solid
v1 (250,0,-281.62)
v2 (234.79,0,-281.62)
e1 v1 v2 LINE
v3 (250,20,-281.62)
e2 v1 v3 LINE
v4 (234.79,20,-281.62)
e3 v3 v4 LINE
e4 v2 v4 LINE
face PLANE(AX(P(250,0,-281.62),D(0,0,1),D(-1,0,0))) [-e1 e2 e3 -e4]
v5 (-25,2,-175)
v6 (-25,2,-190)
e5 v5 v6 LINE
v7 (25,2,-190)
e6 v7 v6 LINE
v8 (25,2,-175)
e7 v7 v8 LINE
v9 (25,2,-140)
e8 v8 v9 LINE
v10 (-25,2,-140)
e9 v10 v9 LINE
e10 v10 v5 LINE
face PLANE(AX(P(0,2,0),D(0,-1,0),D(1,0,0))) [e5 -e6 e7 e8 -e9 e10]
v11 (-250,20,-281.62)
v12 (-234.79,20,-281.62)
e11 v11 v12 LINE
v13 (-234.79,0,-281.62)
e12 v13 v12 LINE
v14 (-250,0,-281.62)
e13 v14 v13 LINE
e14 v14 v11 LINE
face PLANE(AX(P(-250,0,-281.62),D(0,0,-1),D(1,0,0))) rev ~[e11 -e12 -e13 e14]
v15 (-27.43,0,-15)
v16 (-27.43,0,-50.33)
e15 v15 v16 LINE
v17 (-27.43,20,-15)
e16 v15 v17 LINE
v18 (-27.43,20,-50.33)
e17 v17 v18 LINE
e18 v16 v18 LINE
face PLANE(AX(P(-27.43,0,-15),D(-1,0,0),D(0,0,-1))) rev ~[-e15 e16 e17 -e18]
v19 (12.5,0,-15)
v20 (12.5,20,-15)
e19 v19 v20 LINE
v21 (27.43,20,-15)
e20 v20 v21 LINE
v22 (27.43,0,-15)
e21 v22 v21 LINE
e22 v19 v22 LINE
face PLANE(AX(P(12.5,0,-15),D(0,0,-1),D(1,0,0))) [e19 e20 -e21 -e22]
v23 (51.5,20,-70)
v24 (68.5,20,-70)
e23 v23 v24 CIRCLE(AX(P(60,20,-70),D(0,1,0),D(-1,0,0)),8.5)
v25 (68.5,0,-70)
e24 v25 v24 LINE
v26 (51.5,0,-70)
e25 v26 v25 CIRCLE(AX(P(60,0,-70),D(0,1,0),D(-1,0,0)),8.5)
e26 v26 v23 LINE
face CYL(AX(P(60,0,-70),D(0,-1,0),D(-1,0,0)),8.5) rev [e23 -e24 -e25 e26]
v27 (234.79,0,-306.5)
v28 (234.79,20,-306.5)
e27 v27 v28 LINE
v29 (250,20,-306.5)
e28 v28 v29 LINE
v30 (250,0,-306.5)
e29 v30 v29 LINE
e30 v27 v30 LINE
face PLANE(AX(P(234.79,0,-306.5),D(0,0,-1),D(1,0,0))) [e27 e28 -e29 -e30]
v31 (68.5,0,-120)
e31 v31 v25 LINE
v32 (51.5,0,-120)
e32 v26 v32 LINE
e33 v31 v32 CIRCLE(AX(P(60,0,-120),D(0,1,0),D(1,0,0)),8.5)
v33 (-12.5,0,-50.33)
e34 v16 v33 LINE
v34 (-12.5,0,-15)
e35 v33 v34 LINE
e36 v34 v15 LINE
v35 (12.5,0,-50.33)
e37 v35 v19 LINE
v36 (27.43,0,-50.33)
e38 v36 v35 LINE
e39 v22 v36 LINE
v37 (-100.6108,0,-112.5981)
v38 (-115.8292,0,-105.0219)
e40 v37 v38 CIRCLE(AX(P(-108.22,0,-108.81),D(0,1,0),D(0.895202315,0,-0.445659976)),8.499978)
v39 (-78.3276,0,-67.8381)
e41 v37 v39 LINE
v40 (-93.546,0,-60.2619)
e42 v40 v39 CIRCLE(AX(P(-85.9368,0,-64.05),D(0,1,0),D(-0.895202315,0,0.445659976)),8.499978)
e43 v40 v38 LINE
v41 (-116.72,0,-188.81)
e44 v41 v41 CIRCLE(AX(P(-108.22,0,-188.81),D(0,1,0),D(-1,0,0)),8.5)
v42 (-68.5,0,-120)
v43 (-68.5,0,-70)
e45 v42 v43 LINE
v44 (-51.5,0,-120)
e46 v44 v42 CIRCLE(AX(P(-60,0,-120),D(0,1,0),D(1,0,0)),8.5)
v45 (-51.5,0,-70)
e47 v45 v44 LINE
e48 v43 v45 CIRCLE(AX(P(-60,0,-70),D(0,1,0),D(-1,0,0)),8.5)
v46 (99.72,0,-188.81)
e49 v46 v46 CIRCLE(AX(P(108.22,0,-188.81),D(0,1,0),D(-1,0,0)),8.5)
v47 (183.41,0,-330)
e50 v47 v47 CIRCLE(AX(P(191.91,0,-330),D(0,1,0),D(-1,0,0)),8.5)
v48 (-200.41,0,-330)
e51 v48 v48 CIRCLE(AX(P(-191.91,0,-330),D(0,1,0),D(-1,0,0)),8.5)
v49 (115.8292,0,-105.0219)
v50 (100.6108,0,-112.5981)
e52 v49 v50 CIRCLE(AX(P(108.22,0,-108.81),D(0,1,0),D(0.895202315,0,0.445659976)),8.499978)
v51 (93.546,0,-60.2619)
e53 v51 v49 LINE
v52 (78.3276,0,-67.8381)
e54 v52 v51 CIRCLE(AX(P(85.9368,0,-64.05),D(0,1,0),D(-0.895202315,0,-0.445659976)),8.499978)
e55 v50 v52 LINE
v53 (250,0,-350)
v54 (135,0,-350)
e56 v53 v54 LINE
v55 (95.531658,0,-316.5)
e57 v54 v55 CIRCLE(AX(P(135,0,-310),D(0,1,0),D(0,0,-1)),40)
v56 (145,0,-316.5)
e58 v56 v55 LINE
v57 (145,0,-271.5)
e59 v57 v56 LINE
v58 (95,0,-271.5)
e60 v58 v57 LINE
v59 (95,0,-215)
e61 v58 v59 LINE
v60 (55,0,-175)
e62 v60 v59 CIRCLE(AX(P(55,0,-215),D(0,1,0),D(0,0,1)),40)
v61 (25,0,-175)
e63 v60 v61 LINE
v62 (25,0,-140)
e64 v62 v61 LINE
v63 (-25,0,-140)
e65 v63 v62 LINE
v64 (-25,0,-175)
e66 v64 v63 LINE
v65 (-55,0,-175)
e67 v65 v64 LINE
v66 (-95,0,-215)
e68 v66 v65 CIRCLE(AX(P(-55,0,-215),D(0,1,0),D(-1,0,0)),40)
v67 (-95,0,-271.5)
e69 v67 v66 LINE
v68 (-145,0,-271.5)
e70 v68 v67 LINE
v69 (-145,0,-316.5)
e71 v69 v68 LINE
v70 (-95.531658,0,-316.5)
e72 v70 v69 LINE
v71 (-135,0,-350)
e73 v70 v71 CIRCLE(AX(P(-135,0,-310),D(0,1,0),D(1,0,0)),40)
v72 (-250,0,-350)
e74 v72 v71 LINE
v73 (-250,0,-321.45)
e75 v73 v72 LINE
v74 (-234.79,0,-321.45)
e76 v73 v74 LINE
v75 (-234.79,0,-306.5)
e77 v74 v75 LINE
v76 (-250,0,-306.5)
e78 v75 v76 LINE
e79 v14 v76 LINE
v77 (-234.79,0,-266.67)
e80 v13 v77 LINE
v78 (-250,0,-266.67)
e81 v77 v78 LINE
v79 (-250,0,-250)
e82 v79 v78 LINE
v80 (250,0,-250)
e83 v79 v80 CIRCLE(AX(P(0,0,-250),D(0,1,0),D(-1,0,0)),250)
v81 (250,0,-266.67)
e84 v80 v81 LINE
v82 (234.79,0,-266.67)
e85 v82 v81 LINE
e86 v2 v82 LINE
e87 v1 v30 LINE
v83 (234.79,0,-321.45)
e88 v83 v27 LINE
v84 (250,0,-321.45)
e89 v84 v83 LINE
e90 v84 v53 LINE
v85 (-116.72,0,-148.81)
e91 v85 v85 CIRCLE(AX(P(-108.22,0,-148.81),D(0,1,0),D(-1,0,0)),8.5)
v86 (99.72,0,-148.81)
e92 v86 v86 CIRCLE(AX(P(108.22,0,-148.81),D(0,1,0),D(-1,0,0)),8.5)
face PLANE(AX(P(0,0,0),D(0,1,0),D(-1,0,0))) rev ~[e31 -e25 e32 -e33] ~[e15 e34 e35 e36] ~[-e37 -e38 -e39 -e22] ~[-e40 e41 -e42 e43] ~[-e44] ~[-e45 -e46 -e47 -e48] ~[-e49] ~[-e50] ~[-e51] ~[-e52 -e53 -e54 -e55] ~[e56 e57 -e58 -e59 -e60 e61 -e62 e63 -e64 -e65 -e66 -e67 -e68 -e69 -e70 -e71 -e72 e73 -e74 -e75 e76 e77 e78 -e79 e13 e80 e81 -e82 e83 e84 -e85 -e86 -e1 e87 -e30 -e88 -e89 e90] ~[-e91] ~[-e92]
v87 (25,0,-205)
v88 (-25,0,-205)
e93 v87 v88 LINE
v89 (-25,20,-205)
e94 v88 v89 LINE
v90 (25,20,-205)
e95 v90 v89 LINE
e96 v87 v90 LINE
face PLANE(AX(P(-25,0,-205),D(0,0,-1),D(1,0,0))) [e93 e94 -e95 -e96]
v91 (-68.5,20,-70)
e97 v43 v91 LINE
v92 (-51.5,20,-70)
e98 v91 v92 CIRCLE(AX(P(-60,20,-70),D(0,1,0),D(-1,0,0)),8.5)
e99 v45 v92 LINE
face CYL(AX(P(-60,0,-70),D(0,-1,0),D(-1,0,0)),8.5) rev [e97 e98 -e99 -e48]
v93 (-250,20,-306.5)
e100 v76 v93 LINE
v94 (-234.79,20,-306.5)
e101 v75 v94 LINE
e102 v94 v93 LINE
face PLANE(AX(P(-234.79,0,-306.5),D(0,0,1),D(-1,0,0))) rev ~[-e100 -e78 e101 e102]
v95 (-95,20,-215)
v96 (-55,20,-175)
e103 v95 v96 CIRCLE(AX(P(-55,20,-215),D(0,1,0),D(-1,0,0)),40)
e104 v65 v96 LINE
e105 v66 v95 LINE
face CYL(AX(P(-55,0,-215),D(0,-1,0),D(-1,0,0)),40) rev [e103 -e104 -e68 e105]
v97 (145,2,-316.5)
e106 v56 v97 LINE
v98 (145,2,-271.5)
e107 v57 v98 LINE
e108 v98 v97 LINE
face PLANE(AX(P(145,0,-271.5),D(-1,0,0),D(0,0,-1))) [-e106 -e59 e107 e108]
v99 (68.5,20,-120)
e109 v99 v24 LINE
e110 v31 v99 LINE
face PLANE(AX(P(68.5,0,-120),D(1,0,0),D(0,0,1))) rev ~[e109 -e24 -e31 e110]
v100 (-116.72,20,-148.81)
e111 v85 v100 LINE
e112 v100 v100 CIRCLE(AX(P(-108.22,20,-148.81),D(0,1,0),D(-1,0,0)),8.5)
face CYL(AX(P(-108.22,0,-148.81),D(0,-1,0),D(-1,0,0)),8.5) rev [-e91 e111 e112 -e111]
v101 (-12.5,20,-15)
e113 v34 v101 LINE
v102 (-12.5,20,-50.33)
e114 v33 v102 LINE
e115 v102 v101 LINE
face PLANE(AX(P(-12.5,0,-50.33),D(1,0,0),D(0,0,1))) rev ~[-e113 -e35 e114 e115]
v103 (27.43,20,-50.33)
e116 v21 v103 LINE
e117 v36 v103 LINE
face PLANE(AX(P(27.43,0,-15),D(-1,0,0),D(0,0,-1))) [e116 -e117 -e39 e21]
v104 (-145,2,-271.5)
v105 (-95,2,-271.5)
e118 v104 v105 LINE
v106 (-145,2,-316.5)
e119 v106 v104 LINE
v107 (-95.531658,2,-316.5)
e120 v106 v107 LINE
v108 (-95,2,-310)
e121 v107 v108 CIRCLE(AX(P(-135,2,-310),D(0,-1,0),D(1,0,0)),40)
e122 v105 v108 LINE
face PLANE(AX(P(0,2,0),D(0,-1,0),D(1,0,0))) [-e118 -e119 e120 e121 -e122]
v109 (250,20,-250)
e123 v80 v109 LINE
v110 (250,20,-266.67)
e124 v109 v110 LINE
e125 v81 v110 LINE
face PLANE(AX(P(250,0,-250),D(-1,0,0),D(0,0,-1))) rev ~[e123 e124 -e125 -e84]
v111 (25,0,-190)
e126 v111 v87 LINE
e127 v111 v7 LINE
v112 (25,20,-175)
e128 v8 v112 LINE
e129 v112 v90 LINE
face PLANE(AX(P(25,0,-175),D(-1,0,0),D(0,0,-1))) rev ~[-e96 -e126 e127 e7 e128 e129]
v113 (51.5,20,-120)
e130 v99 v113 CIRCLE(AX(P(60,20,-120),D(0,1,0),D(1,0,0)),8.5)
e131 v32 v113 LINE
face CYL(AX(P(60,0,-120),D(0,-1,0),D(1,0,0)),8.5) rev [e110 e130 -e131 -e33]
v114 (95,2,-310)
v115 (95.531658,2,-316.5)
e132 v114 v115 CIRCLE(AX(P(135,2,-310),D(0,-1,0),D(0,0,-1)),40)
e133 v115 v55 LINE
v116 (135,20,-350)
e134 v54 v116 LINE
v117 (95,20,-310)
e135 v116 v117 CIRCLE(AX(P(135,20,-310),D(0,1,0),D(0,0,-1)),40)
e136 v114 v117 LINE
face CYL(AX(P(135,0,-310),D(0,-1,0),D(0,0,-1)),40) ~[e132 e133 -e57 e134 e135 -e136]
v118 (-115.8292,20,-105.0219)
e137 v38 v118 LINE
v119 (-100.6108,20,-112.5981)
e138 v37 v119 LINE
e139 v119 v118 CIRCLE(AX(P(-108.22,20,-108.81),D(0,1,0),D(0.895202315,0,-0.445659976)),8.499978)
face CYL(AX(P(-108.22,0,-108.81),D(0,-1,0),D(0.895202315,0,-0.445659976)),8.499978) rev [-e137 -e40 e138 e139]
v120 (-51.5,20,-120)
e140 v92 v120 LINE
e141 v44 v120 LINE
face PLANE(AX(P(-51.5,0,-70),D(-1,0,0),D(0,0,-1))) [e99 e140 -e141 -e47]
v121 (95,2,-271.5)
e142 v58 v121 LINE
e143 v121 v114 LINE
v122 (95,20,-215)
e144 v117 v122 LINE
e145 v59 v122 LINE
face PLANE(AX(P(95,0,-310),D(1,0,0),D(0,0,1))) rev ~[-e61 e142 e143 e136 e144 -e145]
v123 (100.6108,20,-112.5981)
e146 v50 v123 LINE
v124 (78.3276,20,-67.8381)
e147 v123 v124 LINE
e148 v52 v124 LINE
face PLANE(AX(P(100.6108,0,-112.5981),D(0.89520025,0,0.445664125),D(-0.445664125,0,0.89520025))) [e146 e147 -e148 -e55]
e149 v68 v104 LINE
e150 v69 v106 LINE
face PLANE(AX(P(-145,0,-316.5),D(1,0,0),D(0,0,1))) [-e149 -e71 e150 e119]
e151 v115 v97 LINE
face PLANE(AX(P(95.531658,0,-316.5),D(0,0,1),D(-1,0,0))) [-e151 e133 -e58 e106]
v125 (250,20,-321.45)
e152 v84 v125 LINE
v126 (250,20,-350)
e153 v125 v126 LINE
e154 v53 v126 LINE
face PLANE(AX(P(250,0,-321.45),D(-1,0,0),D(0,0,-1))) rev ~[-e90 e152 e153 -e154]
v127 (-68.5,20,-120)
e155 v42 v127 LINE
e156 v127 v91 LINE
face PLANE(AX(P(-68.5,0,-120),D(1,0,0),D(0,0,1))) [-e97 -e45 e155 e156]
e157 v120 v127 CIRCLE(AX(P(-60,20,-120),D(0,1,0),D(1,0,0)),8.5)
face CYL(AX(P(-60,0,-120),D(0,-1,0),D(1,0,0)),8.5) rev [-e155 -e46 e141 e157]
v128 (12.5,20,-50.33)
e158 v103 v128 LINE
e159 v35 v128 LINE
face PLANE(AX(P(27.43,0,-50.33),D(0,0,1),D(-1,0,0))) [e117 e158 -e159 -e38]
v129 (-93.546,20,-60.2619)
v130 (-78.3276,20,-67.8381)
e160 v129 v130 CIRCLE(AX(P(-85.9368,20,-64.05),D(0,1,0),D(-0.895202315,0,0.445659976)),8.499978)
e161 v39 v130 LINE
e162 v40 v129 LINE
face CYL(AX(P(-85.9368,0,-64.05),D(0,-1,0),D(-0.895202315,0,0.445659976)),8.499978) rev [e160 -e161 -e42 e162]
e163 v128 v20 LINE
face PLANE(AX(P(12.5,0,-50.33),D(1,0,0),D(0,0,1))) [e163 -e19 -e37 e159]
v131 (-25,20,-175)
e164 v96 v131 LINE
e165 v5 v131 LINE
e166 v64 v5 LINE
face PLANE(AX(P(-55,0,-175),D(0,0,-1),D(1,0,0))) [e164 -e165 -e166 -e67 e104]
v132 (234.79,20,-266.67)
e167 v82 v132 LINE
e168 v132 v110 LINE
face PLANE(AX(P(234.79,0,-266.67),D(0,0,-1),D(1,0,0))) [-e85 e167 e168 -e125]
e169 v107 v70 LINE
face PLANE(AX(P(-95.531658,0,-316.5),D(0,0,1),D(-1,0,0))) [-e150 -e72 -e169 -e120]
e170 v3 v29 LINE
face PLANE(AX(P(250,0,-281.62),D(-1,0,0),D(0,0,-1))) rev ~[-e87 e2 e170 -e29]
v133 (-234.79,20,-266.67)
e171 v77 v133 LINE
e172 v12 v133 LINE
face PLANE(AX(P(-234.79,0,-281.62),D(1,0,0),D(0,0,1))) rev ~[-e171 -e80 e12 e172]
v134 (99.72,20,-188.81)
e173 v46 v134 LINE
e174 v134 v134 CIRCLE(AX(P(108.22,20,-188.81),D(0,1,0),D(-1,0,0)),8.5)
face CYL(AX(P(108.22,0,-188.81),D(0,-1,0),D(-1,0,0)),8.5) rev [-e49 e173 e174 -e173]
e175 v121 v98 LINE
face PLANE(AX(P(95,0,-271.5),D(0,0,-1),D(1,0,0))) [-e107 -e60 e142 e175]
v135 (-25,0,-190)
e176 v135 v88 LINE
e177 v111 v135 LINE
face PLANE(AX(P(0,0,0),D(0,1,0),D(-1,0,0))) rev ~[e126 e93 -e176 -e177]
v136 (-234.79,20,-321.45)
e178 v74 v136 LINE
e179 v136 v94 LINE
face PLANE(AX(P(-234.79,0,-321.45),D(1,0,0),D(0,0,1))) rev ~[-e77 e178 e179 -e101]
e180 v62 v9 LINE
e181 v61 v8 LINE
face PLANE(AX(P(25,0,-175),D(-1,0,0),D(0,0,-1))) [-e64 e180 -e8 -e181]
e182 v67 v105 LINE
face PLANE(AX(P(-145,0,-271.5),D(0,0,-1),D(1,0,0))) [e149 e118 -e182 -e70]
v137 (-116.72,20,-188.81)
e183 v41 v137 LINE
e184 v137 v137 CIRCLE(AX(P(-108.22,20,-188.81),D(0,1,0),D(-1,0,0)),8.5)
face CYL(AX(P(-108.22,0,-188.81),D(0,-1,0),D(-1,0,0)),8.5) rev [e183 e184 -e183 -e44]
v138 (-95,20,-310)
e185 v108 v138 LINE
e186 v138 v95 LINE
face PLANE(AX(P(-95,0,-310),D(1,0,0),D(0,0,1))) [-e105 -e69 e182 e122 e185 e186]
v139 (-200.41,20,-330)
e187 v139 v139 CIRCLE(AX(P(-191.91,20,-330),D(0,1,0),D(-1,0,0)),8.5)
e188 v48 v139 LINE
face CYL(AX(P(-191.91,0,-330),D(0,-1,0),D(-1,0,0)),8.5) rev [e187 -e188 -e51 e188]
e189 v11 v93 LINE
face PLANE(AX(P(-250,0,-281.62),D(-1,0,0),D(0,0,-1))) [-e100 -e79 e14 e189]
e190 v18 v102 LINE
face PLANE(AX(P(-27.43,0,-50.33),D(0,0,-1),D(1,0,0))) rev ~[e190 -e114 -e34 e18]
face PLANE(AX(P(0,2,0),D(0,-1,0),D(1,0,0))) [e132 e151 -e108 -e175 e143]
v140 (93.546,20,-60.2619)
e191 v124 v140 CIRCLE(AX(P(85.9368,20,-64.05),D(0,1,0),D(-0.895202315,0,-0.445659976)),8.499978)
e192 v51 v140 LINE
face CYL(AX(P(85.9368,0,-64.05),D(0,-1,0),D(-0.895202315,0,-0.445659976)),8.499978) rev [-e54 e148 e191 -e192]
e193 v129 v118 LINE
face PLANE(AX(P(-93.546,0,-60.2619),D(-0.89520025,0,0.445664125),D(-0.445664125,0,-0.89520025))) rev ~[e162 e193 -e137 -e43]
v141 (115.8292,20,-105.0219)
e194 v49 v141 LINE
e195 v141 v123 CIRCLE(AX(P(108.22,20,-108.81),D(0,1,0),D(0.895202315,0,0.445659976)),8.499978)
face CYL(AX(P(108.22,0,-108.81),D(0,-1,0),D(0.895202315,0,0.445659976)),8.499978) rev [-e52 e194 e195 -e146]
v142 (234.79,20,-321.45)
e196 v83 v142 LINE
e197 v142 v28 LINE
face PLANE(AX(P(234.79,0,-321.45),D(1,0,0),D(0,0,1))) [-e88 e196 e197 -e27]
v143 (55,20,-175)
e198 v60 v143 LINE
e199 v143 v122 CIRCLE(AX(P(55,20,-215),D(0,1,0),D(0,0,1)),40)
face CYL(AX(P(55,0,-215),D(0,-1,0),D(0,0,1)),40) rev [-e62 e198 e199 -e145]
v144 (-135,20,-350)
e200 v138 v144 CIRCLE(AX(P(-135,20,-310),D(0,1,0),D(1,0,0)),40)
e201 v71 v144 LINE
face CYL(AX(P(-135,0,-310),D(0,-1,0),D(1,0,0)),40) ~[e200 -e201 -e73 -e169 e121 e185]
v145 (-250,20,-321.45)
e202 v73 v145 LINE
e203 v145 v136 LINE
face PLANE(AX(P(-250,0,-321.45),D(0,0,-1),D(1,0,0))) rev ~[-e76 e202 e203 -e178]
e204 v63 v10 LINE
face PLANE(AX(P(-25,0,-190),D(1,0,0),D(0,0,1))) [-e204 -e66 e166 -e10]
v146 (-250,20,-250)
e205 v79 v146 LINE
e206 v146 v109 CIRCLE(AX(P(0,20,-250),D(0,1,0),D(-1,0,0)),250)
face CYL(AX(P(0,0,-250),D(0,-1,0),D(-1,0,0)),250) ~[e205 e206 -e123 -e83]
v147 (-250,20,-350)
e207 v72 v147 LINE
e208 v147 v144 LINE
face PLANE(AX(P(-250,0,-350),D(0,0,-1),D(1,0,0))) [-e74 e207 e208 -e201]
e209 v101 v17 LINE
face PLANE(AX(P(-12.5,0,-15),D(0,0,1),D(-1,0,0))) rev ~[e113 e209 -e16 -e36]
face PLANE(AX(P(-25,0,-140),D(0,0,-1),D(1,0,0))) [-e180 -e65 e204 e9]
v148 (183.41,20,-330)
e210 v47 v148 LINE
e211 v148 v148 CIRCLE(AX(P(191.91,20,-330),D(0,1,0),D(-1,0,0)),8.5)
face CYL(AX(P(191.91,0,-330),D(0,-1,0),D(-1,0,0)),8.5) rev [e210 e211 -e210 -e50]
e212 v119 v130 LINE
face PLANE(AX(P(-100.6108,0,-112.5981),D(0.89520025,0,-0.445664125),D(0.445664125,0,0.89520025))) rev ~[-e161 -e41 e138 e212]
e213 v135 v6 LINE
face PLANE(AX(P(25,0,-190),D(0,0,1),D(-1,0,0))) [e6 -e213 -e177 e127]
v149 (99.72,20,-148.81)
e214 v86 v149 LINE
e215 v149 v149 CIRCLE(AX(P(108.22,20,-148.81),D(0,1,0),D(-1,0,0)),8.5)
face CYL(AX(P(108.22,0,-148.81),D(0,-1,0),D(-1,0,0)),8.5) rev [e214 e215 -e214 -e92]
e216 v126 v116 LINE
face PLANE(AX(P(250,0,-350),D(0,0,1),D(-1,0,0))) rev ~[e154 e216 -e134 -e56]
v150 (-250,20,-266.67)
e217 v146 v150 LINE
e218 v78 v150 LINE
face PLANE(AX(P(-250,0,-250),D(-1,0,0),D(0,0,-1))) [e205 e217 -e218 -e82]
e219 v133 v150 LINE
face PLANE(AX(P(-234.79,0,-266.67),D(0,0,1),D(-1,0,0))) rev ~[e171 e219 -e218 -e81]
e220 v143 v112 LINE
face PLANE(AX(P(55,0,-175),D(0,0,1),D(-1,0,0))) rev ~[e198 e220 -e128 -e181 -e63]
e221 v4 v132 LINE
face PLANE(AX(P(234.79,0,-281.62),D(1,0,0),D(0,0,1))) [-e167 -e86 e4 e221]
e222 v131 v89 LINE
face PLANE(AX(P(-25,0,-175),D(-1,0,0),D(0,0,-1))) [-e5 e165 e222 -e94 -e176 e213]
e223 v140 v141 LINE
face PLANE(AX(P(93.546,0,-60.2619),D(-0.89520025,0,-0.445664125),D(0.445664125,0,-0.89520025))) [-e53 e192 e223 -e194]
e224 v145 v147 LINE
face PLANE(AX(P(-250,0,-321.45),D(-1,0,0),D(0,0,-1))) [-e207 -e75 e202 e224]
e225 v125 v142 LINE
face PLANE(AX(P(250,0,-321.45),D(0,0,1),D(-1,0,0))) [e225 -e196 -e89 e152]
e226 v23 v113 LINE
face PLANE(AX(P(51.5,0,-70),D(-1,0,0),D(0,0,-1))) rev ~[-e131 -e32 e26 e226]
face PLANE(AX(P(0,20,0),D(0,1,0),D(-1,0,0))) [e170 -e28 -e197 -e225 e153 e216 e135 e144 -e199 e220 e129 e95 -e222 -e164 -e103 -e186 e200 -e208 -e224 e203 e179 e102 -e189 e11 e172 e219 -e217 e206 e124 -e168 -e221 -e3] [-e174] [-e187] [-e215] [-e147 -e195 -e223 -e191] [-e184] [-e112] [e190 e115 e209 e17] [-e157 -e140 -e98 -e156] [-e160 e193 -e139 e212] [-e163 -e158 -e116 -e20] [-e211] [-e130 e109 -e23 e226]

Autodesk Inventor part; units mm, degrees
ref_plane "YZ Plane" through (0, 0, 0) normal (1, 0, 0) x (0, 1, 0)
ref_plane "XZ Plane" through (0, 0, 0) normal (0, 1, 0) x (-1, 0, 0)
ref_plane "XY Plane" through (0, 0, 0) normal (0, 0, 1) x (1, 0, 0)
sketch "Эскиз1" plane through (0, 0, 0) normal (0, 1, 0) x (-1, 0, 0)
  line L0 (0, 0) -> (0, -235.2683) construction
  line L1 (250, -250) -> (250, -350)
  line L2 (250, -350) -> (135, -350)
  arc A0 (95, -310) -> (135, -350) centre (135, -310) ccw
  line L3 (95, -310) -> (95, -215)
  arc A1 (95, -215) -> (55, -175) centre (55, -215) ccw
  line L4 (25, -175) -> (25, -205)
  line L5 (25, -205) -> (0, -205)
  line L6 (55, -175) -> (25, -175)
  line L7 (60, -70) -> (60, -120) construction
  line L8 (51.5, -70) -> (51.5, -120)
  line L9 (68.5, -120) -> (68.5, -70)
  arc A2 (68.5, -70) -> (51.5, -70) centre (60, -70) ccw
  arc A3 (51.5, -120) -> (68.5, -120) centre (60, -120) ccw
  line L10 (85.9368, -64.05) -> (108.22, -108.81) construction
  line L11 (93.546, -60.2619) -> (115.8292, -105.0219)
  line L12 (100.6108, -112.5981) -> (78.3276, -67.8381)
  arc A4 (93.546, -60.2619) -> (78.3276, -67.8381) centre (85.9368, -64.05) ccw
  arc A5 (100.6108, -112.5981) -> (115.8292, -105.0219) centre (108.22, -108.81) ccw
  line L13 (12.5, -15) -> (27.43, -15)
  line L14 (27.43, -15) -> (27.43, -50.33)
  line L15 (27.43, -50.33) -> (12.5, -50.33)
  line L16 (12.5, -50.33) -> (12.5, -15)
  circle A6 centre (108.22, -148.81) radius 8.5
  circle A7 centre (108.22, -188.81) radius 8.5
  circle A8 centre (191.91, -330) radius 8.5
  line L17 (-250, -250) -> (-250, -350)
  line L18 (-250, -350) -> (-135, -350)
  arc A9 (-135, -350) -> (-95, -310) centre (-135, -310) ccw
  line L19 (-95, -310) -> (-95, -215)
  arc A10 (-55, -175) -> (-95, -215) centre (-55, -215) ccw
  line L20 (-25, -175) -> (-25, -205)
  line L21 (-25, -205) -> (0, -205)
  line L22 (-55, -175) -> (-25, -175)
  line L23 (-60, -70) -> (-60, -120) construction
  line L24 (-51.5, -70) -> (-51.5, -120)
  line L25 (-68.5, -120) -> (-68.5, -70)
  arc A11 (-51.5, -70) -> (-68.5, -70) centre (-60, -70) ccw
  arc A12 (-68.5, -120) -> (-51.5, -120) centre (-60, -120) ccw
  line L26 (-85.9368, -64.05) -> (-108.22, -108.81) construction
  line L27 (-93.546, -60.2619) -> (-115.8292, -105.0219)
  line L28 (-100.6108, -112.5981) -> (-78.3276, -67.8381)
  arc A13 (-78.3276, -67.8381) -> (-93.546, -60.2619) centre (-85.9368, -64.05) ccw
  arc A14 (-115.8292, -105.0219) -> (-100.6108, -112.5981) centre (-108.22, -108.81) ccw
  line L29 (-12.5, -15) -> (-27.43, -15)
  line L30 (-27.43, -15) -> (-27.43, -50.33)
  line L31 (-27.43, -50.33) -> (-12.5, -50.33)
  line L32 (-12.5, -50.33) -> (-12.5, -15)
  circle A15 centre (-108.22, -148.81) radius 8.5
  circle A16 centre (-108.22, -188.81) radius 8.5
  circle A17 centre (-191.91, -330) radius 8.5
  arc A18 (250, -250) -> (-250, -250) centre (0, -250) ccw
  line L33 (250, -321.45) -> (234.79, -321.45)
  line L34 (234.79, -321.45) -> (234.79, -306.5)
  line L35 (234.79, -306.5) -> (250, -306.5)
  line L36 (250, -281.62) -> (234.79, -281.62)
  line L37 (234.79, -281.62) -> (234.79, -266.67)
  line L38 (234.79, -266.67) -> (250, -266.67)
  line L39 (-250, -321.45) -> (-234.79, -321.45)
  line L40 (-234.79, -321.45) -> (-234.79, -306.5)
  line L41 (-234.79, -306.5) -> (-250, -306.5)
  line L42 (-250, -281.62) -> (-234.79, -281.62)
  line L43 (-234.79, -281.62) -> (-234.79, -266.67)
  line L44 (-234.79, -266.67) -> (-250, -266.67)
  point P0 (60, -95)
  point P1 (97.0784, -86.43)
  point P2 (-60, -95)
  point P3 (-97.0784, -86.43)
  dimension "d2" = 115
  dimension "d4" = 40
  dimension "d5" = 30
  dimension "d7" = 250
  dimension "d9" = 25
  dimension "d10" = 350
  dimension "d11" = 95
  dimension "d12" = 30
  dimension "d13" = 50
  dimension "d14" = 8.5
  dimension "d15" = 64.05
  dimension "d16" = 141.78
  dimension "d17" = 48.22
  dimension "d18" = 70
  dimension "d20" = 241.19
  dimension "d21" = 14.93
  dimension "d22" = 35.33
  dimension "d23" = 12.5
  dimension "d24" = 15
  dimension "d25" = 17
  dimension "d26" = 40
  dimension "d27" = 161.19
  dimension "d28" = 141.78
  dimension "d29" = 20
  dimension "d30" = 58.09
  dimension "d34" = 15.21
  dimension "d35" = 28.55
  dimension "d36" = 14.95
  dimension "d37" = 24.88
  dimension "d47" = 24.88
  dimension "d48" = 28.55
  dimension "d49" = 14.95
  dimension "d50" = 15.21
extrude "Пластина1" add sketch "Эскиз1" along normal blind 20 contours L1 L38 L37 L36 L35 L34 L33 L2 A0 L3 A1 L6 L4 L5 L21 L20 L22 A10 L19 A9 L18 L17 L39 L40 L41 L42 L43 L44 A18
sketch "Эскиз2" plane through (0, 0, 0) normal (0, -1, 0) x (1, 0, 0)
  arc A0 (100.6108, -112.5981) -> (115.8292, -105.0219) centre (108.22, -108.81) ccw projected
  line L0 (100.6108, -112.5981) -> (78.3276, -67.8381) projected
  arc A1 (93.546, -60.2619) -> (78.3276, -67.8381) centre (85.9368, -64.05) ccw projected
  line L1 (93.546, -60.2619) -> (115.8292, -105.0219) projected
  arc A2 (51.5, -120) -> (68.5, -120) centre (60, -120) ccw projected
  line L2 (51.5, -120) -> (51.5, -70) projected
  arc A3 (68.5, -70) -> (51.5, -70) centre (60, -70) ccw projected
  line L3 (68.5, -70) -> (68.5, -120) projected
  arc A4 (-115.8292, -105.0219) -> (-100.6108, -112.5981) centre (-108.22, -108.81) ccw projected
  line L4 (-115.8292, -105.0219) -> (-93.546, -60.2619) projected
  arc A5 (-78.3276, -67.8381) -> (-93.546, -60.2619) centre (-85.9368, -64.05) ccw projected
  line L5 (-78.3276, -67.8381) -> (-100.6108, -112.5981) projected
  arc A6 (-51.5, -70) -> (-68.5, -70) centre (-60, -70) ccw projected
  line L6 (-51.5, -70) -> (-51.5, -120) projected
  arc A7 (-68.5, -120) -> (-51.5, -120) centre (-60, -120) ccw projected
  line L7 (-68.5, -120) -> (-68.5, -70) projected
  line L8 (12.5, -15) -> (27.43, -15) projected
  line L9 (27.43, -15) -> (27.43, -50.33) projected
  line L10 (27.43, -50.33) -> (12.5, -50.33) projected
  line L11 (12.5, -50.33) -> (12.5, -15) projected
  line L12 (-27.43, -50.33) -> (-27.43, -15) projected
  line L13 (-27.43, -15) -> (-12.5, -15) projected
  line L14 (-12.5, -15) -> (-12.5, -50.33) projected
  line L15 (-12.5, -50.33) -> (-27.43, -50.33) projected
  circle A8 centre (191.91, -330) radius 8.5 projected
  circle A9 centre (108.22, -188.81) radius 8.5 projected
  circle A10 centre (108.22, -148.81) radius 8.5 projected
  circle A11 centre (-191.91, -330) radius 8.5 projected
  circle A12 centre (-108.22, -188.81) radius 8.5 projected
  circle A13 centre (-108.22, -148.81) radius 8.5 projected
  arc A14 (250, -250) -> (-250, -250) centre (0, -250) ccw projected
  line L16 (-250, -266.67) -> (-250, -250) projected
  line L17 (-234.79, -266.67) -> (-250, -266.67) projected
  line L18 (-234.79, -281.62) -> (-234.79, -266.67) projected
  line L19 (-250, -281.62) -> (-234.79, -281.62) projected
  line L20 (-250, -306.5) -> (-250, -281.62) projected
  line L21 (-234.79, -306.5) -> (-250, -306.5) projected
  line L22 (-234.79, -321.45) -> (-234.79, -306.5) projected
  line L23 (-250, -321.45) -> (-234.79, -321.45) projected
  line L24 (-250, -350) -> (-250, -321.45) projected
  line L25 (-135, -350) -> (-250, -350) projected
  arc A15 (-135, -350) -> (-95, -310) centre (-135, -310) ccw projected
  line L26 (-95, -215) -> (-95, -310) projected
  arc A16 (-55, -175) -> (-95, -215) centre (-55, -215) ccw projected
  line L27 (-25, -175) -> (-55, -175) projected
  line L28 (-25, -205) -> (-25, -175) projected
  line L29 (25, -205) -> (-25, -205) projected
  line L30 (25, -175) -> (25, -205) projected
  line L31 (55, -175) -> (25, -175) projected
  arc A17 (95, -215) -> (55, -175) centre (55, -215) ccw projected
  line L32 (95, -310) -> (95, -215) projected
  arc A18 (95, -310) -> (135, -350) centre (135, -310) ccw projected
  line L33 (250, -350) -> (135, -350) projected
  line L34 (250, -321.45) -> (250, -350) projected
  line L35 (25, -190) -> (-25, -190)
  line L36 (-25, -190) -> (-25, -140)
  line L37 (-25, -140) -> (25, -140)
  line L38 (25, -140) -> (25, -190)
  line L39 (95, -310) -> (95, -215) projected
  line L40 (95, -271.5) -> (145, -271.5)
  line L41 (145, -271.5) -> (145, -316.5)
  line L42 (145, -316.5) -> (95, -316.5)
  line L43 (95, -316.5) -> (95, -271.5)
  line L44 (-95, -215) -> (-95, -310) projected
  line L45 (-95, -316.5) -> (-145, -316.5)
  line L46 (-145, -316.5) -> (-145, -271.5)
  line L47 (-145, -271.5) -> (-95, -271.5)
  line L48 (-95, -271.5) -> (-95, -316.5)
  line L49 (234.79, -321.45) -> (250, -321.45) projected
  line L50 (234.79, -306.5) -> (234.79, -321.45) projected
  line L51 (250, -306.5) -> (234.79, -306.5) projected
  line L52 (250, -281.62) -> (250, -306.5) projected
  line L53 (234.79, -281.62) -> (250, -281.62) projected
  line L54 (234.79, -266.67) -> (234.79, -281.62) projected
  line L55 (250, -266.67) -> (234.79, -266.67) projected
  line L56 (250, -250) -> (250, -266.67) projected
  point P0 (0, 0)
  point P1 (0, -190)
  point P2 (0, -205)
  dimension "d38" = 50
  dimension "d39" = 45
  dimension "d40" = 33.5
  dimension "d41" = 50
  dimension "d42" = 50
  dimension "d43" = 50
  dimension "d44" = 15
extrude "Вырез1" cut sketch "Эскиз2" against normal blind 2 contours L42 L43 A18 | A18 L32 L40 L41 L42 | L45 L46 L47 L26 A15 | A15 L48 L45 | L30 L35 L28 L36 L37 L38
equation "\"d33\" = Толщина"
equation "\"Толщина\" = 20"
properties part number "Lift.03.00.00.02"
